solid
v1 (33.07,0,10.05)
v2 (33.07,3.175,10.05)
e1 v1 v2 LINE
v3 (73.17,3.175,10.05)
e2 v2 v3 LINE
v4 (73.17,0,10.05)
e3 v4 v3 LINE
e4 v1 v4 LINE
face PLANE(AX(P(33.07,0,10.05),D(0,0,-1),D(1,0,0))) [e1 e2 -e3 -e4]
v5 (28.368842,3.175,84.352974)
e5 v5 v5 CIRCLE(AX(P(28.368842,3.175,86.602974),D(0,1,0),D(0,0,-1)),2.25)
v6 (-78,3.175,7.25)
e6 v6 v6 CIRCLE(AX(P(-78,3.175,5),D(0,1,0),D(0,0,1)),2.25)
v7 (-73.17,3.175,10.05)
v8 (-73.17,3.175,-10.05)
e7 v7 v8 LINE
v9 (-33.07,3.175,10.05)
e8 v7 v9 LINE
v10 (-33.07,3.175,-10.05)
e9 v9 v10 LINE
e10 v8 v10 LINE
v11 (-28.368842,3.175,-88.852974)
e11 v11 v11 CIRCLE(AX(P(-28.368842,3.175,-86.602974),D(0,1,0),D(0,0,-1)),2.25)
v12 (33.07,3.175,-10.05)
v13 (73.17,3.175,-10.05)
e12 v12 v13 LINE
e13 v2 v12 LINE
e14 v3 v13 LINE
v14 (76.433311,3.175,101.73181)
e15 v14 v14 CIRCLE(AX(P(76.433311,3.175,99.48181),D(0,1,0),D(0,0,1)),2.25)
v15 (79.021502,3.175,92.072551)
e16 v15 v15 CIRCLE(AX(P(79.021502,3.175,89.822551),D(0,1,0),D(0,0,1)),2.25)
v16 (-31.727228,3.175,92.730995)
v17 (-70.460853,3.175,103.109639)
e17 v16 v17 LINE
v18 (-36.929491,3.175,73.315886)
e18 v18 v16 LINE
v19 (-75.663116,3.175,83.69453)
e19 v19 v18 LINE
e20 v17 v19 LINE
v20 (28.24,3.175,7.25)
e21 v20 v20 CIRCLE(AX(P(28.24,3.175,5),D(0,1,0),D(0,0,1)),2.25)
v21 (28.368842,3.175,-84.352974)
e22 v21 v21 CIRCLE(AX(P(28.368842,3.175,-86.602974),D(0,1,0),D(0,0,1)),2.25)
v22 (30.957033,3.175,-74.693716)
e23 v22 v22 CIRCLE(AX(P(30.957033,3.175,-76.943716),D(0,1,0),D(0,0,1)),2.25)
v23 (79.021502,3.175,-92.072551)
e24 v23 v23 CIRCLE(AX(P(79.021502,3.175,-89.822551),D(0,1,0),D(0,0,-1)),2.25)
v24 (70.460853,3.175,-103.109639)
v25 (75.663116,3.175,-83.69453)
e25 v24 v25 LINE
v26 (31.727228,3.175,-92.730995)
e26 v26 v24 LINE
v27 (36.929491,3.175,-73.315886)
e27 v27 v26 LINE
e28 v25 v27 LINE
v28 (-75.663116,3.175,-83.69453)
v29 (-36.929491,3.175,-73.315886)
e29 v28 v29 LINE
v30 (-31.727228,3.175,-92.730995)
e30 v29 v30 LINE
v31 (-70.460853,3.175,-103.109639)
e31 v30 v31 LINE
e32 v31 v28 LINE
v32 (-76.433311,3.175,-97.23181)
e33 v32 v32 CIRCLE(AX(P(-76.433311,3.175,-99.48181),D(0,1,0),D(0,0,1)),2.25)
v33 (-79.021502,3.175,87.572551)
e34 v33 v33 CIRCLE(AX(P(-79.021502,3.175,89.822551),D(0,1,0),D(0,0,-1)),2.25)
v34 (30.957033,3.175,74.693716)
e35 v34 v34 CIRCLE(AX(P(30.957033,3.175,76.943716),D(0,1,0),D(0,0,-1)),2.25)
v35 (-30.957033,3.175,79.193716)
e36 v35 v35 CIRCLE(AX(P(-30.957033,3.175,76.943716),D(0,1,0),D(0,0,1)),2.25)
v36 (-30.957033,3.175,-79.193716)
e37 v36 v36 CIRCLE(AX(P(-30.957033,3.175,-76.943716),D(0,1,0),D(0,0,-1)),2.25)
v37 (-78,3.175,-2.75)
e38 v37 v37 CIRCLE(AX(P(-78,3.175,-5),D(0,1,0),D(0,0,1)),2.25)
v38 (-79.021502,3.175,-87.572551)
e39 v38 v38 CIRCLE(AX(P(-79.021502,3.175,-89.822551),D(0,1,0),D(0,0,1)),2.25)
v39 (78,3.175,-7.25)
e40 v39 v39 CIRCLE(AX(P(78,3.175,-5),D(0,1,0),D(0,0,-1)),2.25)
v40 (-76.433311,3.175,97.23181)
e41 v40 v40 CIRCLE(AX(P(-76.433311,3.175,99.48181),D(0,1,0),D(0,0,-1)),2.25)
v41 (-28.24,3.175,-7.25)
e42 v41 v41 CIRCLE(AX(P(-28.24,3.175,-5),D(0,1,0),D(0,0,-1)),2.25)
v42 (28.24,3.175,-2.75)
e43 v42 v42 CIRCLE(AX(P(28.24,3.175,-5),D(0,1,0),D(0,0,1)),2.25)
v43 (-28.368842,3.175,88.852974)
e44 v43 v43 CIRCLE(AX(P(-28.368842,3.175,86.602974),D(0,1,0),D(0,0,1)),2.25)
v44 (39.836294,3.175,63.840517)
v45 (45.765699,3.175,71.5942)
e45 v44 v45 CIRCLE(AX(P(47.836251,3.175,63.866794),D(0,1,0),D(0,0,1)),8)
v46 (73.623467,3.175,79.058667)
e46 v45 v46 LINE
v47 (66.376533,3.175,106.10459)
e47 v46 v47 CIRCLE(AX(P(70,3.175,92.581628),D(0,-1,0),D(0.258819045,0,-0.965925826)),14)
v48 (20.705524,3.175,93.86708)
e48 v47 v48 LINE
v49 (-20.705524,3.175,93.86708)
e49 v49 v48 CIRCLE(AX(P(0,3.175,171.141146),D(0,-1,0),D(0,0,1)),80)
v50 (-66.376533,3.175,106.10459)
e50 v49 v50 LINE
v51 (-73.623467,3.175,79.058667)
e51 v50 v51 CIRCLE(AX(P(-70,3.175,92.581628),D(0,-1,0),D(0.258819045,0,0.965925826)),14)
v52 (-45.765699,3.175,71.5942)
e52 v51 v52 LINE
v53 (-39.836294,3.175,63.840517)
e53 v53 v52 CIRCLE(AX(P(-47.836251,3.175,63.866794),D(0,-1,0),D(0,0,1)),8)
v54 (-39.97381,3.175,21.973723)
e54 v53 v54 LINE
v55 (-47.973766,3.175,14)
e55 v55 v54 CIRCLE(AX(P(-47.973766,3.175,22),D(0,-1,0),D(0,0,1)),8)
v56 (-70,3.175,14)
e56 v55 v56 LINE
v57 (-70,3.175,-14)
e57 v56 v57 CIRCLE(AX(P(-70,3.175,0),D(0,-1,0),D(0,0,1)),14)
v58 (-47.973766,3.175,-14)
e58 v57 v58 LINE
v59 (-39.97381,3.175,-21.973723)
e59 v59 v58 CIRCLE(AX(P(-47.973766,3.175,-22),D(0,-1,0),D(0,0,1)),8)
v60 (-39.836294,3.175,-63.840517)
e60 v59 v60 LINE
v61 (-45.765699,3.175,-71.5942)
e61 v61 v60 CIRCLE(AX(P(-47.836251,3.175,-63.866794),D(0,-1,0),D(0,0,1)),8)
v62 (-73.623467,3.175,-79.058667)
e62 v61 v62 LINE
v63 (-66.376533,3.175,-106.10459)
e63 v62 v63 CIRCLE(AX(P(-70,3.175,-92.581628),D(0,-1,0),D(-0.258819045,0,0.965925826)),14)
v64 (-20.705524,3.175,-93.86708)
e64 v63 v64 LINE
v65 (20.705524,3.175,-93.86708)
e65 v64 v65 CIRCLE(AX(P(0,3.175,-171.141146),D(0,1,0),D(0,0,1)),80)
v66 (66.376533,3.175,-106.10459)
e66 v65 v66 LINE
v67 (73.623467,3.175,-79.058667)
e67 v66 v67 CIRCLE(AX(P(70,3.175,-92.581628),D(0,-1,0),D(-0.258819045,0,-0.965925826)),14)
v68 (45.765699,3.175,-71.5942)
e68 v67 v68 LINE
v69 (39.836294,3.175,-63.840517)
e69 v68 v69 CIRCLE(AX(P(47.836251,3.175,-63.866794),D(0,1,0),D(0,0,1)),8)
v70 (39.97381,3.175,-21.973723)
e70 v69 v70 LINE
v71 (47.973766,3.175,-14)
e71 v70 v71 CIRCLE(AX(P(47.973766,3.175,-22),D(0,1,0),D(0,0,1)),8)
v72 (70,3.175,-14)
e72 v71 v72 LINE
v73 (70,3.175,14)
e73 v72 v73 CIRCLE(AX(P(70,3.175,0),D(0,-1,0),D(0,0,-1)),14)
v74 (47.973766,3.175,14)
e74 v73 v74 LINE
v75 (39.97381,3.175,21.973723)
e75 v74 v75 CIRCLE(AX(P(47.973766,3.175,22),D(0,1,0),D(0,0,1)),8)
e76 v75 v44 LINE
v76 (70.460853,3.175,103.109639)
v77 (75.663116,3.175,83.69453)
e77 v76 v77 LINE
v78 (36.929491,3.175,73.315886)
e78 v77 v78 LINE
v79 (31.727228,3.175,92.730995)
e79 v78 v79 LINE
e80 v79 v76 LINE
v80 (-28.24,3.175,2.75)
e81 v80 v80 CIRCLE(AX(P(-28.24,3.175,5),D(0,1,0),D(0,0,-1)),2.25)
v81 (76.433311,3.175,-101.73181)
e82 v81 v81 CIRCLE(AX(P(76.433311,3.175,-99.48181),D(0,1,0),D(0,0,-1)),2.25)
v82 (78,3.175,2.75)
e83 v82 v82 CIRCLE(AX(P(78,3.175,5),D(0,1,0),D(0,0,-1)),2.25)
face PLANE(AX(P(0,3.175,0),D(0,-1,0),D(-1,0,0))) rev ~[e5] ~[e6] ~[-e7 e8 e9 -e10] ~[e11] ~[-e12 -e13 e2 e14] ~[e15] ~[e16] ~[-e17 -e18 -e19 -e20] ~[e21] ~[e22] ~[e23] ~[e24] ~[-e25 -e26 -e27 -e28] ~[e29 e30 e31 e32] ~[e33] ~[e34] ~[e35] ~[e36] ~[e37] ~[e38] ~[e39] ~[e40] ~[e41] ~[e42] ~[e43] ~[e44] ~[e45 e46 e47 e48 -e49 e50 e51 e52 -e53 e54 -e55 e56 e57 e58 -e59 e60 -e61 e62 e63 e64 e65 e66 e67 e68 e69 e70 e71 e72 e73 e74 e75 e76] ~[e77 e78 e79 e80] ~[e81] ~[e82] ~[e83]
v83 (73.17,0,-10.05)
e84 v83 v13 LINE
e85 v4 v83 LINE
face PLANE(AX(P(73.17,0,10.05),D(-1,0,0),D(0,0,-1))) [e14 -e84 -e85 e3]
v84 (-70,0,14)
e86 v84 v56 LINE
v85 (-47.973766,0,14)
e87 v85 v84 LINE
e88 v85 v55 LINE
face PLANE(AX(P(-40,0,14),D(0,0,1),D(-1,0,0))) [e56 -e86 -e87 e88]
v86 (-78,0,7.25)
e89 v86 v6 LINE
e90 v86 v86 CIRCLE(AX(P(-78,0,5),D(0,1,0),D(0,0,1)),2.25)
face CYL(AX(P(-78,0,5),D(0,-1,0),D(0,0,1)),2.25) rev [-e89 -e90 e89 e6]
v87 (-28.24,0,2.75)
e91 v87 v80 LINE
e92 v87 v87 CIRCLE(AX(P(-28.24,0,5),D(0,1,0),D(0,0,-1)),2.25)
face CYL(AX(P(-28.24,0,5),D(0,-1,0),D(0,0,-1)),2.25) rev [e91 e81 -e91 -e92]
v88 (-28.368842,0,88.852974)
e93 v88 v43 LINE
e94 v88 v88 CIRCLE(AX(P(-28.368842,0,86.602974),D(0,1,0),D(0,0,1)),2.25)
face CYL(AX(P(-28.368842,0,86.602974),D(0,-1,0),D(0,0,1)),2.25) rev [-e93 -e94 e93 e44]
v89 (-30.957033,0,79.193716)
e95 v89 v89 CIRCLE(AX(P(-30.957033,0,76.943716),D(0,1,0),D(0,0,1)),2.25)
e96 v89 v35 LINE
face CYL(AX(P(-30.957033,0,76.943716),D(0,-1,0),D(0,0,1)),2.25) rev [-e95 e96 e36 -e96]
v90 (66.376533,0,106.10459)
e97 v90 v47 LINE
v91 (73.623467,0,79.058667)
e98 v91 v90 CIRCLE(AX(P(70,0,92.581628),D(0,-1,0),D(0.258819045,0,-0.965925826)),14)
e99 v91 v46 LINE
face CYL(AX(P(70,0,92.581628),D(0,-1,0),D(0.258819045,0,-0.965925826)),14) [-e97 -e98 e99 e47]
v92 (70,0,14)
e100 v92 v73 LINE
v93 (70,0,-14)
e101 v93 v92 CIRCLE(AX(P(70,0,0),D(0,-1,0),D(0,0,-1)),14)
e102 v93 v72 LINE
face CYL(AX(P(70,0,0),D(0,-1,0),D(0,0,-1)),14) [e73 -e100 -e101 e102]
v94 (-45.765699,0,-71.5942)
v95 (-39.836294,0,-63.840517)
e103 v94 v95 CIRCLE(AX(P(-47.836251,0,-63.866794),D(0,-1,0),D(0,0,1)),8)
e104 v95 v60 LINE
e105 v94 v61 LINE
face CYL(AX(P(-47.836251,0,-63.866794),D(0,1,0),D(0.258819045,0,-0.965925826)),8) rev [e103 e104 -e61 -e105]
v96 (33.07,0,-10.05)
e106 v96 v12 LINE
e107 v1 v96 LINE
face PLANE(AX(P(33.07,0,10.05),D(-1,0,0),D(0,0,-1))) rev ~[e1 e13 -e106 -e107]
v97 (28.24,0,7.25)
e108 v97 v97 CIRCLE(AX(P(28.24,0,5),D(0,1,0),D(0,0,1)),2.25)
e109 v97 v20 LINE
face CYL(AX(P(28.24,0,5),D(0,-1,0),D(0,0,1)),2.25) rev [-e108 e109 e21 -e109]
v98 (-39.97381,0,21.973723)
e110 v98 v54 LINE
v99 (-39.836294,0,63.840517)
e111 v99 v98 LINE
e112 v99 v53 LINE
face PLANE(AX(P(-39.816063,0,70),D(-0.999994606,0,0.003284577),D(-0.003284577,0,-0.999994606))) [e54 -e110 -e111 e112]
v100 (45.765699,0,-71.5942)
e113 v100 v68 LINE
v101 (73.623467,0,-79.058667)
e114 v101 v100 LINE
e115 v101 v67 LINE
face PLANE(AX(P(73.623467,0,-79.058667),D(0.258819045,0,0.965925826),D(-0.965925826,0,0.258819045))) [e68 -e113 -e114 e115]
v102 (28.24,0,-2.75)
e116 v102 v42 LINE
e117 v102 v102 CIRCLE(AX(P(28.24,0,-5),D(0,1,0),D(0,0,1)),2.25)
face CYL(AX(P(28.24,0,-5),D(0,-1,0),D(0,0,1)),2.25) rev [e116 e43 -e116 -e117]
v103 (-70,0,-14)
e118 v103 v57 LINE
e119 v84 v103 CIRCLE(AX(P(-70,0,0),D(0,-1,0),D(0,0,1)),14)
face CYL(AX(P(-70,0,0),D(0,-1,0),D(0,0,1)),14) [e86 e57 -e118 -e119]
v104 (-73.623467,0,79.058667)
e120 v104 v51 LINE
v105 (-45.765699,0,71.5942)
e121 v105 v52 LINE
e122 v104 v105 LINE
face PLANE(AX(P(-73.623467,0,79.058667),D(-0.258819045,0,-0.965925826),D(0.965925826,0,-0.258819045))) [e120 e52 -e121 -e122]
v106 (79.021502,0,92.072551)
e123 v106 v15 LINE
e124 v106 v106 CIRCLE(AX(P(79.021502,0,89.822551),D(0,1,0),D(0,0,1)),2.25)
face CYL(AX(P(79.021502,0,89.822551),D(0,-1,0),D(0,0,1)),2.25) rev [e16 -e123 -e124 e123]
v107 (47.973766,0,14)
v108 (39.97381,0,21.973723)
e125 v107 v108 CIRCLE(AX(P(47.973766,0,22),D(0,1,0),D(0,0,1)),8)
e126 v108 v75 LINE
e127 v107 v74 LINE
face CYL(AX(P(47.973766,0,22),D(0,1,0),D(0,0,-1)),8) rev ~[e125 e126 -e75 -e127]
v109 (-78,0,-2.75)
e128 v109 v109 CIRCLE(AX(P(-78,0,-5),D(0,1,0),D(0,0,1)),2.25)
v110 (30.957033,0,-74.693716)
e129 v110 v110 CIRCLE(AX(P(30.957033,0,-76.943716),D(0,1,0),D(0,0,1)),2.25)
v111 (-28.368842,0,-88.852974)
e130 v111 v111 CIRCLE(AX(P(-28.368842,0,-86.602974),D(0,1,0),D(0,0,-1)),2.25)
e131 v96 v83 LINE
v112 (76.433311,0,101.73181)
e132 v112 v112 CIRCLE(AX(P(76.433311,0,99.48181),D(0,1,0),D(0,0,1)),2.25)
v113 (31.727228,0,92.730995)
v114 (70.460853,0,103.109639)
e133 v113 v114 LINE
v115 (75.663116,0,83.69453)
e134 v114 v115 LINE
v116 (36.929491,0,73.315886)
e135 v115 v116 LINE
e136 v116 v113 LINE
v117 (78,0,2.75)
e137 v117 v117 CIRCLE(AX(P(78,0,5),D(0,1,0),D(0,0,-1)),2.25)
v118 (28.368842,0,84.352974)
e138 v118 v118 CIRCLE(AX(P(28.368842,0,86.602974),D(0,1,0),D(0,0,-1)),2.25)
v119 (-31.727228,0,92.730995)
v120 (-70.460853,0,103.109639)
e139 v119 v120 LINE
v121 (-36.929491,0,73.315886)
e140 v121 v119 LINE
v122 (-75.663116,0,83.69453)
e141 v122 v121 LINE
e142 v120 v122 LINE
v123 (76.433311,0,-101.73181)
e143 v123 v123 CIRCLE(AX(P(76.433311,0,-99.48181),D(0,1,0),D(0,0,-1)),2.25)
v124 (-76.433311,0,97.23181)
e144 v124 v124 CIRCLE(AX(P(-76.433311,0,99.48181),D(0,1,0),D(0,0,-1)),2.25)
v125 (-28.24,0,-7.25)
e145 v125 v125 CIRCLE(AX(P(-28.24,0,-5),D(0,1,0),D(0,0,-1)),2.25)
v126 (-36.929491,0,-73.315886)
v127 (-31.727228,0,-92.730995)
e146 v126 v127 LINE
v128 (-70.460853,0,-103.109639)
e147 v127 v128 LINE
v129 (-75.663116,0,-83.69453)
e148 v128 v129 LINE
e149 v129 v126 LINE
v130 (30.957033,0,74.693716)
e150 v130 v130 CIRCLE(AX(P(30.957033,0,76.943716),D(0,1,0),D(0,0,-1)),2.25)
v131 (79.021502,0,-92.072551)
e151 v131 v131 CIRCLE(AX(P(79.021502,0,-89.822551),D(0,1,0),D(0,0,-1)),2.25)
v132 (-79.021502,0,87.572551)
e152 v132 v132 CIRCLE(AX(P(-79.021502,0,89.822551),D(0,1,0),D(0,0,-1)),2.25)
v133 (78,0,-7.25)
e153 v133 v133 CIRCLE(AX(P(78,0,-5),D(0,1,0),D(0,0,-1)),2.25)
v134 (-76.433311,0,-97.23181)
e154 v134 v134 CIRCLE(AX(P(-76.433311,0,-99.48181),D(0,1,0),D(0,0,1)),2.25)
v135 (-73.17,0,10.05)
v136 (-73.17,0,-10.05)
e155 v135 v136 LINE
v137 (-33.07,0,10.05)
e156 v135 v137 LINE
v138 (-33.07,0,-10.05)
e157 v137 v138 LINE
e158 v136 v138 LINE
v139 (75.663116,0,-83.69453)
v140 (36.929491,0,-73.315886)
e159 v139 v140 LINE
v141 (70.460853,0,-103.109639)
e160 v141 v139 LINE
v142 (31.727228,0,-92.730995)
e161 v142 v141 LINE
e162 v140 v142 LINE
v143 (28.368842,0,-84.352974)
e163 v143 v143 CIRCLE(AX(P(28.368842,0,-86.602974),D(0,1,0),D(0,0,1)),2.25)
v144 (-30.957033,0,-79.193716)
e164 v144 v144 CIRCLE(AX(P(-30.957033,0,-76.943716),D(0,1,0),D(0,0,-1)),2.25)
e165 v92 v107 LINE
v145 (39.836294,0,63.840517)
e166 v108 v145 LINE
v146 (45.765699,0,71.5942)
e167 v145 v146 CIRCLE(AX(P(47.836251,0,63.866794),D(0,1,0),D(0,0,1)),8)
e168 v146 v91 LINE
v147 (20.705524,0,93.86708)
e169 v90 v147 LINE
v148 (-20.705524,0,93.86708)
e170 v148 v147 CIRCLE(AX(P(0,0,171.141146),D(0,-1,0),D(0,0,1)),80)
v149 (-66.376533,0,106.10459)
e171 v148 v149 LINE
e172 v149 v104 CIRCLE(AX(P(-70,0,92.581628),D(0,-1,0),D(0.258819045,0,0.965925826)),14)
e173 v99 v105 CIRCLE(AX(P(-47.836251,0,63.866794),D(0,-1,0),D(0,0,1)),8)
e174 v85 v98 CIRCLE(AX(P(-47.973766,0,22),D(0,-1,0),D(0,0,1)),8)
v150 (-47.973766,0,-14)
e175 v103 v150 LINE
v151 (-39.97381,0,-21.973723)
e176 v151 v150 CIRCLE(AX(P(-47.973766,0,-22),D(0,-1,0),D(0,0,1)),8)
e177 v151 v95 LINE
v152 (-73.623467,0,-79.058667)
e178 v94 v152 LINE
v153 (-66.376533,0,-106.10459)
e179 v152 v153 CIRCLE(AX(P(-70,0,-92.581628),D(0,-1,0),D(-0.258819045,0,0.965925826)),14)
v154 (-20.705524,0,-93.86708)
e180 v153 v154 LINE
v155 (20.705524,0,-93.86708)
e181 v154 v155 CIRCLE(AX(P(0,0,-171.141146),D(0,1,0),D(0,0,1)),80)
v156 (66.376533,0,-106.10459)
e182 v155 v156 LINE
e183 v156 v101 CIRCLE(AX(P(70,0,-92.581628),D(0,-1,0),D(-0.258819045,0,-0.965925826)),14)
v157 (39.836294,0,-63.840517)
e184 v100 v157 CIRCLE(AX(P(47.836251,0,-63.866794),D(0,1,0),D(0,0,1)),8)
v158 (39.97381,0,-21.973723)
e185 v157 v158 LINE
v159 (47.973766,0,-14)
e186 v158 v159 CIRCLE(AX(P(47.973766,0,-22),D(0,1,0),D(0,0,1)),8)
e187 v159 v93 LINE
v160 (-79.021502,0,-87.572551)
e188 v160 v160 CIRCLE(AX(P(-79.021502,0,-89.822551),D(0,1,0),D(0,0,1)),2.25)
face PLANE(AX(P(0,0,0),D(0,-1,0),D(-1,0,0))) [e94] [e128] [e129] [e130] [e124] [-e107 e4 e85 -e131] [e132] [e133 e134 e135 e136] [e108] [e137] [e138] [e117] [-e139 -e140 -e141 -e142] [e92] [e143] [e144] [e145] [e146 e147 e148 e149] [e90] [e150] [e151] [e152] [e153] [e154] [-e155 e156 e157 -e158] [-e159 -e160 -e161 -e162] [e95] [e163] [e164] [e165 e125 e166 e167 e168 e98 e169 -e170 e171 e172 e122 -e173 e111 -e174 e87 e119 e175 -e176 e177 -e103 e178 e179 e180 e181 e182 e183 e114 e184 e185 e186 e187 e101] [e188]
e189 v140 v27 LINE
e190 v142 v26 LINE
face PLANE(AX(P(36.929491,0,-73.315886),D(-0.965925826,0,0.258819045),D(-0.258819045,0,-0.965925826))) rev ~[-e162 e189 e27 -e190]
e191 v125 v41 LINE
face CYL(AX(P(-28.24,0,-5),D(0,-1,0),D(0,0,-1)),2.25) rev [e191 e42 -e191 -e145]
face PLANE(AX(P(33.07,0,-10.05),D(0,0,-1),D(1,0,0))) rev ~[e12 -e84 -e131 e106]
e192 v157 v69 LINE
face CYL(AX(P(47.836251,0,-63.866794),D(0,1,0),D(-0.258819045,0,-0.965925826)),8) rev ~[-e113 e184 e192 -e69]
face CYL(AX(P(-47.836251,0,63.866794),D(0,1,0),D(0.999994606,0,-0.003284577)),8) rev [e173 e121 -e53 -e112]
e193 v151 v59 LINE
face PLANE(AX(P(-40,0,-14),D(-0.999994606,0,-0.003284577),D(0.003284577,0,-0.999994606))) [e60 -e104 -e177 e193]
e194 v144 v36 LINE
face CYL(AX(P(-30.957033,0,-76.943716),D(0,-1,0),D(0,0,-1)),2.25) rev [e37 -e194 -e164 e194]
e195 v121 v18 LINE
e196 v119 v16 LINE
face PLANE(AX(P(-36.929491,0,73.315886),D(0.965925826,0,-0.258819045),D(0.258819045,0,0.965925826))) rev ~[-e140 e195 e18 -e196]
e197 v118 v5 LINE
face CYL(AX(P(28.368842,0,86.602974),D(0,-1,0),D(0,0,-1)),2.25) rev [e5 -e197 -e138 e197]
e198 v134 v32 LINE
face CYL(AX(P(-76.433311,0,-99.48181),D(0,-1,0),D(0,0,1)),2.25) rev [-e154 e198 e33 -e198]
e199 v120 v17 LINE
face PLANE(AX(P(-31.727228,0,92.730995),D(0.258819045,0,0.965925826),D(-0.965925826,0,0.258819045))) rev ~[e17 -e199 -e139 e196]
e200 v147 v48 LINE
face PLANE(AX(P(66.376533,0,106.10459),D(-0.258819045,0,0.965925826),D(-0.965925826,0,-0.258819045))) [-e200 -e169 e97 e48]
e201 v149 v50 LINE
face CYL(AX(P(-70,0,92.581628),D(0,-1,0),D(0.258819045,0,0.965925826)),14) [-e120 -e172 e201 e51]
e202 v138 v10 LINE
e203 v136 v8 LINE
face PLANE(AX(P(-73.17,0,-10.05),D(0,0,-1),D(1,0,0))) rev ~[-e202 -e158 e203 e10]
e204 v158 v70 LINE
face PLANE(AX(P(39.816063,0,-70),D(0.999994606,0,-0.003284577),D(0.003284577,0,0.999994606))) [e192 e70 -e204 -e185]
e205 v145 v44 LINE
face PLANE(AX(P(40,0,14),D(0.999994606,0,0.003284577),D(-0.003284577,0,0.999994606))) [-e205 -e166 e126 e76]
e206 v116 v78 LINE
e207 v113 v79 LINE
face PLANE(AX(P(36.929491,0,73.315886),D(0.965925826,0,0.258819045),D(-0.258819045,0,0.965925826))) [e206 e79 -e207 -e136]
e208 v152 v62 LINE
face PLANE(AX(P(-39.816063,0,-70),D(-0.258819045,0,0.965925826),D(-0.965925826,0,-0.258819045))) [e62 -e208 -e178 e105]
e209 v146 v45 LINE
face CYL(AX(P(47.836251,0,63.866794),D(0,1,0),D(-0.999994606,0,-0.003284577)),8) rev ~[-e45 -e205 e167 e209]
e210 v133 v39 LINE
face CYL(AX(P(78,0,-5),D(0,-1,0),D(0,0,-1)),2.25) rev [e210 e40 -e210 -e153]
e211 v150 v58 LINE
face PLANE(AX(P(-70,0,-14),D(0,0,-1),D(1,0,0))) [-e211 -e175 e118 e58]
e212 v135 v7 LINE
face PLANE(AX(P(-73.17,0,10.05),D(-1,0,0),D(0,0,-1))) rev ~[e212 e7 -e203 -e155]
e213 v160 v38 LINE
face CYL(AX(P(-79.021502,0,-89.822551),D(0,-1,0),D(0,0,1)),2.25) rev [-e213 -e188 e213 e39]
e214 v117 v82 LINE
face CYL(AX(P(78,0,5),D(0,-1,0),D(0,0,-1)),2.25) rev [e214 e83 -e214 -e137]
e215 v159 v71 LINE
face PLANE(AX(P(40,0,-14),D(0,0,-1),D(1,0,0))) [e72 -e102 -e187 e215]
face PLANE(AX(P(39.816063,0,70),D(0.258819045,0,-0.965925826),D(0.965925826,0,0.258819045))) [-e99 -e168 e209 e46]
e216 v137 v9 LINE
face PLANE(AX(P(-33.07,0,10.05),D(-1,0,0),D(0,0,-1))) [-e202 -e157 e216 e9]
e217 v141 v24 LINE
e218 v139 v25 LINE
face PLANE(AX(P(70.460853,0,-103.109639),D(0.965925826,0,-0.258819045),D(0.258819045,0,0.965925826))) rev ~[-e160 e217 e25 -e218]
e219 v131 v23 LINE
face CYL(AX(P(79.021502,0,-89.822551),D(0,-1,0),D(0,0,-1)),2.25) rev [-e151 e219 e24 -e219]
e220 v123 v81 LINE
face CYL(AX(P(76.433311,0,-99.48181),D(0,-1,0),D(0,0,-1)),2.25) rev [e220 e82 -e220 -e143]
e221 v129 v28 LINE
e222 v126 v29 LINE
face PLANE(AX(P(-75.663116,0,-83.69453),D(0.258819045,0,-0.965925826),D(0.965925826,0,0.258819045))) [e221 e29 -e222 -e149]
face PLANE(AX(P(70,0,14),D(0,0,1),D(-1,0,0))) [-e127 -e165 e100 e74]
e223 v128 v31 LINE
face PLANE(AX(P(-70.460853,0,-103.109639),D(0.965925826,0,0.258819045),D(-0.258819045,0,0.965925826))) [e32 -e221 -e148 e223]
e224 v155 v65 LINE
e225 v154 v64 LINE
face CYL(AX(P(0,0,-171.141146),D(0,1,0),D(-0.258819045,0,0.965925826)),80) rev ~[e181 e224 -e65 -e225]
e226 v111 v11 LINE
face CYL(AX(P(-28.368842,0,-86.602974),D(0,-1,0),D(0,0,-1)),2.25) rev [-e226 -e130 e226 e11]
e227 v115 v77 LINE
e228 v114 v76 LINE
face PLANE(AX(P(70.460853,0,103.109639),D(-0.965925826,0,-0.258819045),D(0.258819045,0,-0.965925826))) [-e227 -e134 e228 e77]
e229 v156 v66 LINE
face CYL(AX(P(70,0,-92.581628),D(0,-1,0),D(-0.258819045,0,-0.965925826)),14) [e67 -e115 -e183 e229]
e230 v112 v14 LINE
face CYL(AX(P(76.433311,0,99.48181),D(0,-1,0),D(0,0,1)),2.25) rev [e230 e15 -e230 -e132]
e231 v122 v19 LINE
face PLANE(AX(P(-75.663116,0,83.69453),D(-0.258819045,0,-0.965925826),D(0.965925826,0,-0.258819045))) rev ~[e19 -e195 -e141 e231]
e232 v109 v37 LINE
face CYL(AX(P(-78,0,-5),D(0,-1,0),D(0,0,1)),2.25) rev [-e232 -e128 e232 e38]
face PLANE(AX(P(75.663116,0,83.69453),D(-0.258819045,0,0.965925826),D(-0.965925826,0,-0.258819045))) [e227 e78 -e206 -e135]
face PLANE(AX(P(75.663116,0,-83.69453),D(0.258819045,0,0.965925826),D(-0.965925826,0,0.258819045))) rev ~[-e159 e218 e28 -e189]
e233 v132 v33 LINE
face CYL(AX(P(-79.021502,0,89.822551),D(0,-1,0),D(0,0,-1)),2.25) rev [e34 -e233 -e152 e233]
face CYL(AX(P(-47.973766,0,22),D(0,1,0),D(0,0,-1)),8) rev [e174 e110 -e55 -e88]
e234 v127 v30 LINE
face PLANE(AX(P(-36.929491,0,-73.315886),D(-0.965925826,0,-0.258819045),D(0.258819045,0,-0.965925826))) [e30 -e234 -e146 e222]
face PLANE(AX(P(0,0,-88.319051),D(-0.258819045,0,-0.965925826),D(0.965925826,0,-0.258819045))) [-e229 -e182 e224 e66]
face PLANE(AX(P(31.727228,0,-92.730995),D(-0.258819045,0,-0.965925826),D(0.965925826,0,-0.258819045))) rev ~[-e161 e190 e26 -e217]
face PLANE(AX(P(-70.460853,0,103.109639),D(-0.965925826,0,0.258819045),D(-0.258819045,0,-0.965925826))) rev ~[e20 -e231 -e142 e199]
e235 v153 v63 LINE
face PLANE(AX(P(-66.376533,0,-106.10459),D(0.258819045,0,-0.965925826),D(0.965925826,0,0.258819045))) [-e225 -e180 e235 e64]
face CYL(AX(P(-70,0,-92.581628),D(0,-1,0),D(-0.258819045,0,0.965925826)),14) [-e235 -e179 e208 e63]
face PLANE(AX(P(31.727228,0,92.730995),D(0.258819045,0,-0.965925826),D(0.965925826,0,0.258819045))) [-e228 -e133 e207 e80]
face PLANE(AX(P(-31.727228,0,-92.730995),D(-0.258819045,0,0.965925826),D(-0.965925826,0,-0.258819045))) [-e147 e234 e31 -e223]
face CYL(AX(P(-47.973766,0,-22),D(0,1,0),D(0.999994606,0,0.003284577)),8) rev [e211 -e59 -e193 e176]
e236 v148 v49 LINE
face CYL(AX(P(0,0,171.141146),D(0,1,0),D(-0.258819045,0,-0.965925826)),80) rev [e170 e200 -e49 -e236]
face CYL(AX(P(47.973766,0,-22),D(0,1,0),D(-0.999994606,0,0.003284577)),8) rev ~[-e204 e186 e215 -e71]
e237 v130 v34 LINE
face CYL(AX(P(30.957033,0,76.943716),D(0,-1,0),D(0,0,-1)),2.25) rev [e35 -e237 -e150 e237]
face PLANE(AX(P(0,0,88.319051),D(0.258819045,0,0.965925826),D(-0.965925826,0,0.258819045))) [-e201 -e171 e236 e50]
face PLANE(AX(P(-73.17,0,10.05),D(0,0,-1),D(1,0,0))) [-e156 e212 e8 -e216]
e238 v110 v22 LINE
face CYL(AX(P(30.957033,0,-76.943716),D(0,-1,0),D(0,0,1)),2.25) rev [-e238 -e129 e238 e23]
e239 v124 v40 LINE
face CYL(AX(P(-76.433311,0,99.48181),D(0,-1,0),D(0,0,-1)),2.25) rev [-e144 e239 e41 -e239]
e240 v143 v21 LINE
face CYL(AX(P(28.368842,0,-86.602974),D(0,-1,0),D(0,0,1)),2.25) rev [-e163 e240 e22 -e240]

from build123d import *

# Parameters (mm, degrees)
SKETCH1_R           = 2.25
SKETCH1_W           = 40.1
SKETCH1_H           = 20.1
BOSS_EXTRUDE1_DEPTH = 3.175
FILLET1_R           = 80
FILLET2_R           = 8


with BuildPart() as part:
    # Sketch1 → Boss-Extrude1 (new body)
    with BuildSketch(Plane(origin=(0, 0, 0), x_dir=(1, 0, 0), z_dir=(0, 1, 0))):
        with BuildLine():
            Line((-70, 14), (-40, 14))
            Line((-40, 14), (-39.816062711, 70))
            Line((-39.816062711, 70), (-73.623466631, 79.058666579))
            ThreePointArc((-73.623466631, 79.058666579), (-83.522961568, 96.205094778), (-66.376533369, 106.104589715))
            Line((-66.376533369, 106.104589715), (0, 88.319051202))
            Line((0, 88.319051202), (66.376533369, 106.104589715))
            ThreePointArc((66.376533369, 106.104589715), (83.522961568, 96.205094778), (73.623466631, 79.058666579))
            Line((73.623466631, 79.058666579), (39.816062711, 70))
            Line((39.816062711, 70), (40, 14))
            Line((40, 14), (70, 14))
            ThreePointArc((70, 14), (84, 0), (70, -14))
            Line((70, -14), (40, -14))
            Line((40, -14), (39.816062711, -70))
            Line((39.816062711, -70), (73.623466631, -79.058666579))
            ThreePointArc((73.623466631, -79.058666579), (83.522961568, -96.205094778), (66.376533369, -106.104589715))
            Line((66.376533369, -106.104589715), (0, -88.319051202))
            Line((0, -88.319051202), (-66.376533369, -106.104589715))
            ThreePointArc((-66.376533369, -106.104589715), (-83.522961568, -96.205094778), (-73.623466631, -79.058666579))
            Line((-73.623466631, -79.058666579), (-39.816062711, -70))
            Line((-39.816062711, -70), (-40, -14))
            Line((-40, -14), (-70, -14))
            ThreePointArc((-70, -14), (-84, 0), (-70, 14))
        make_face()
        with Locations(Location((-76.433311385, 99.481809639, 0), (0, 0, 270))):
            Circle(SKETCH1_R, mode=Mode.SUBTRACT)
        with Locations(Location((-79.021501836, 89.822551376, 0), (0, 0, 270))):
            Circle(SKETCH1_R, mode=Mode.SUBTRACT)
        with Locations(Location((-78, 5, 0), (0, 0, 270))):
            Circle(SKETCH1_R, mode=Mode.SUBTRACT)
        with Locations(Location((-79.021501836, -89.822551376, 0), (0, 0, 90))):
            Circle(SKETCH1_R, mode=Mode.SUBTRACT)
        with Locations(Location((-76.433311385, -99.481809639, 0), (0, 0, 90))):
            Circle(SKETCH1_R, mode=Mode.SUBTRACT)
        with Locations(Location((-78, -5, 0), (0, 0, 270))):
            Circle(SKETCH1_R, mode=Mode.SUBTRACT)
        with Locations(Location((78, -5, 0), (0, 0, 90))):
            Circle(SKETCH1_R, mode=Mode.SUBTRACT)
        with Locations(Location((76.433311385, -99.481809639, 0), (0, 0, 270))):
            Circle(SKETCH1_R, mode=Mode.SUBTRACT)
        with Locations(Location((79.021501836, -89.822551376, 0), (0, 0, 270))):
            Circle(SKETCH1_R, mode=Mode.SUBTRACT)
        with Locations(Location((78, 5, 0), (0, 0, 90))):
            Circle(SKETCH1_R, mode=Mode.SUBTRACT)
        with Locations(Location((79.021501836, 89.822551376, 0), (0, 0, 90))):
            Circle(SKETCH1_R, mode=Mode.SUBTRACT)
        with Locations(Location((76.433311385, 99.481809639, 0), (0, 0, 90))):
            Circle(SKETCH1_R, mode=Mode.SUBTRACT)
        with Locations(Location((-30.95703272, 76.943715692, 0), (0, 0, 90))):
            Circle(SKETCH1_R, mode=Mode.SUBTRACT)
        with Locations(Location((-28.368842269, 86.602973955, 0), (0, 0, 90))):
            Circle(SKETCH1_R, mode=Mode.SUBTRACT)
        with Locations(Location((-28.24, -5, 0), (0, 0, 90))):
            Circle(SKETCH1_R, mode=Mode.SUBTRACT)
        with Locations(Location((-28.24, 5, 0), (0, 0, 90))):
            Circle(SKETCH1_R, mode=Mode.SUBTRACT)
        with Locations(Location((-28.368842269, -86.602973955, 0), (0, 0, 270))):
            Circle(SKETCH1_R, mode=Mode.SUBTRACT)
        with Locations(Location((-30.95703272, -76.943715692, 0), (0, 0, 270))):
            Circle(SKETCH1_R, mode=Mode.SUBTRACT)
        with Locations(Location((28.368842269, 86.602973955, 0), (0, 0, 270))):
            Circle(SKETCH1_R, mode=Mode.SUBTRACT)
        with Locations(Location((30.95703272, 76.943715692, 0), (0, 0, 270))):
            Circle(SKETCH1_R, mode=Mode.SUBTRACT)
        with Locations(Location((28.24, 5, 0), (0, 0, 270))):
            Circle(SKETCH1_R, mode=Mode.SUBTRACT)
        with Locations(Location((28.24, -5, 0), (0, 0, 270))):
            Circle(SKETCH1_R, mode=Mode.SUBTRACT)
        with Locations(Location((30.95703272, -76.943715692, 0), (0, 0, 90))):
            Circle(SKETCH1_R, mode=Mode.SUBTRACT)
        with Locations(Location((28.368842269, -86.602973955, 0), (0, 0, 90))):
            Circle(SKETCH1_R, mode=Mode.SUBTRACT)
        Polygon((-70.460853466, 103.109639074), (-75.663116273, 83.694529965), (-36.929490638, 73.315886257), (-31.727227832, 92.730995365), align=None, mode=Mode.SUBTRACT)
        with Locations((-53.12, 0)):
            Rectangle(SKETCH1_W, SKETCH1_H, mode=Mode.SUBTRACT)
        Polygon((-36.929490638, -73.315886257), (-31.727227832, -92.730995365), (-70.460853466, -103.109639074), (-75.663116273, -83.694529965), align=None, mode=Mode.SUBTRACT)
        Polygon((36.929490638, 73.315886257), (31.727227832, 92.730995365), (70.460853466, 103.109639074), (75.663116273, 83.694529965), align=None, mode=Mode.SUBTRACT)
        with Locations((53.12, 0)):
            Rectangle(SKETCH1_W, SKETCH1_H, mode=Mode.SUBTRACT)
        Polygon((36.929490638, -73.315886257), (31.727227832, -92.730995365), (70.460853466, -103.109639074), (75.663116273, -83.694529965), align=None, mode=Mode.SUBTRACT)
    extrude(amount=BOSS_EXTRUDE1_DEPTH)

    # Fillet1
    fillet1_edges = [part.edges().sort_by_distance(p)[0] for p in [
        (0, 1.5875, -88.319051202),
        (0, 1.5875, 88.319051202),
    ]]
    fillet(fillet1_edges, radius=FILLET1_R)

    # Fillet2
    fillet2_edges = [part.edges().sort_by_distance(p)[0] for p in [
        (-40, 1.5875, -14),
        (-39.816062711, 1.5875, -70),
        (39.816062711, 1.5875, -70),
        (40, 1.5875, -14),
        (40, 1.5875, 14),
        (39.816062711, 1.5875, 70),
        (-39.816062711, 1.5875, 70),
        (-40, 1.5875, 14),
    ]]
    fillet(fillet2_edges, radius=FILLET2_R)


solid = part.part
